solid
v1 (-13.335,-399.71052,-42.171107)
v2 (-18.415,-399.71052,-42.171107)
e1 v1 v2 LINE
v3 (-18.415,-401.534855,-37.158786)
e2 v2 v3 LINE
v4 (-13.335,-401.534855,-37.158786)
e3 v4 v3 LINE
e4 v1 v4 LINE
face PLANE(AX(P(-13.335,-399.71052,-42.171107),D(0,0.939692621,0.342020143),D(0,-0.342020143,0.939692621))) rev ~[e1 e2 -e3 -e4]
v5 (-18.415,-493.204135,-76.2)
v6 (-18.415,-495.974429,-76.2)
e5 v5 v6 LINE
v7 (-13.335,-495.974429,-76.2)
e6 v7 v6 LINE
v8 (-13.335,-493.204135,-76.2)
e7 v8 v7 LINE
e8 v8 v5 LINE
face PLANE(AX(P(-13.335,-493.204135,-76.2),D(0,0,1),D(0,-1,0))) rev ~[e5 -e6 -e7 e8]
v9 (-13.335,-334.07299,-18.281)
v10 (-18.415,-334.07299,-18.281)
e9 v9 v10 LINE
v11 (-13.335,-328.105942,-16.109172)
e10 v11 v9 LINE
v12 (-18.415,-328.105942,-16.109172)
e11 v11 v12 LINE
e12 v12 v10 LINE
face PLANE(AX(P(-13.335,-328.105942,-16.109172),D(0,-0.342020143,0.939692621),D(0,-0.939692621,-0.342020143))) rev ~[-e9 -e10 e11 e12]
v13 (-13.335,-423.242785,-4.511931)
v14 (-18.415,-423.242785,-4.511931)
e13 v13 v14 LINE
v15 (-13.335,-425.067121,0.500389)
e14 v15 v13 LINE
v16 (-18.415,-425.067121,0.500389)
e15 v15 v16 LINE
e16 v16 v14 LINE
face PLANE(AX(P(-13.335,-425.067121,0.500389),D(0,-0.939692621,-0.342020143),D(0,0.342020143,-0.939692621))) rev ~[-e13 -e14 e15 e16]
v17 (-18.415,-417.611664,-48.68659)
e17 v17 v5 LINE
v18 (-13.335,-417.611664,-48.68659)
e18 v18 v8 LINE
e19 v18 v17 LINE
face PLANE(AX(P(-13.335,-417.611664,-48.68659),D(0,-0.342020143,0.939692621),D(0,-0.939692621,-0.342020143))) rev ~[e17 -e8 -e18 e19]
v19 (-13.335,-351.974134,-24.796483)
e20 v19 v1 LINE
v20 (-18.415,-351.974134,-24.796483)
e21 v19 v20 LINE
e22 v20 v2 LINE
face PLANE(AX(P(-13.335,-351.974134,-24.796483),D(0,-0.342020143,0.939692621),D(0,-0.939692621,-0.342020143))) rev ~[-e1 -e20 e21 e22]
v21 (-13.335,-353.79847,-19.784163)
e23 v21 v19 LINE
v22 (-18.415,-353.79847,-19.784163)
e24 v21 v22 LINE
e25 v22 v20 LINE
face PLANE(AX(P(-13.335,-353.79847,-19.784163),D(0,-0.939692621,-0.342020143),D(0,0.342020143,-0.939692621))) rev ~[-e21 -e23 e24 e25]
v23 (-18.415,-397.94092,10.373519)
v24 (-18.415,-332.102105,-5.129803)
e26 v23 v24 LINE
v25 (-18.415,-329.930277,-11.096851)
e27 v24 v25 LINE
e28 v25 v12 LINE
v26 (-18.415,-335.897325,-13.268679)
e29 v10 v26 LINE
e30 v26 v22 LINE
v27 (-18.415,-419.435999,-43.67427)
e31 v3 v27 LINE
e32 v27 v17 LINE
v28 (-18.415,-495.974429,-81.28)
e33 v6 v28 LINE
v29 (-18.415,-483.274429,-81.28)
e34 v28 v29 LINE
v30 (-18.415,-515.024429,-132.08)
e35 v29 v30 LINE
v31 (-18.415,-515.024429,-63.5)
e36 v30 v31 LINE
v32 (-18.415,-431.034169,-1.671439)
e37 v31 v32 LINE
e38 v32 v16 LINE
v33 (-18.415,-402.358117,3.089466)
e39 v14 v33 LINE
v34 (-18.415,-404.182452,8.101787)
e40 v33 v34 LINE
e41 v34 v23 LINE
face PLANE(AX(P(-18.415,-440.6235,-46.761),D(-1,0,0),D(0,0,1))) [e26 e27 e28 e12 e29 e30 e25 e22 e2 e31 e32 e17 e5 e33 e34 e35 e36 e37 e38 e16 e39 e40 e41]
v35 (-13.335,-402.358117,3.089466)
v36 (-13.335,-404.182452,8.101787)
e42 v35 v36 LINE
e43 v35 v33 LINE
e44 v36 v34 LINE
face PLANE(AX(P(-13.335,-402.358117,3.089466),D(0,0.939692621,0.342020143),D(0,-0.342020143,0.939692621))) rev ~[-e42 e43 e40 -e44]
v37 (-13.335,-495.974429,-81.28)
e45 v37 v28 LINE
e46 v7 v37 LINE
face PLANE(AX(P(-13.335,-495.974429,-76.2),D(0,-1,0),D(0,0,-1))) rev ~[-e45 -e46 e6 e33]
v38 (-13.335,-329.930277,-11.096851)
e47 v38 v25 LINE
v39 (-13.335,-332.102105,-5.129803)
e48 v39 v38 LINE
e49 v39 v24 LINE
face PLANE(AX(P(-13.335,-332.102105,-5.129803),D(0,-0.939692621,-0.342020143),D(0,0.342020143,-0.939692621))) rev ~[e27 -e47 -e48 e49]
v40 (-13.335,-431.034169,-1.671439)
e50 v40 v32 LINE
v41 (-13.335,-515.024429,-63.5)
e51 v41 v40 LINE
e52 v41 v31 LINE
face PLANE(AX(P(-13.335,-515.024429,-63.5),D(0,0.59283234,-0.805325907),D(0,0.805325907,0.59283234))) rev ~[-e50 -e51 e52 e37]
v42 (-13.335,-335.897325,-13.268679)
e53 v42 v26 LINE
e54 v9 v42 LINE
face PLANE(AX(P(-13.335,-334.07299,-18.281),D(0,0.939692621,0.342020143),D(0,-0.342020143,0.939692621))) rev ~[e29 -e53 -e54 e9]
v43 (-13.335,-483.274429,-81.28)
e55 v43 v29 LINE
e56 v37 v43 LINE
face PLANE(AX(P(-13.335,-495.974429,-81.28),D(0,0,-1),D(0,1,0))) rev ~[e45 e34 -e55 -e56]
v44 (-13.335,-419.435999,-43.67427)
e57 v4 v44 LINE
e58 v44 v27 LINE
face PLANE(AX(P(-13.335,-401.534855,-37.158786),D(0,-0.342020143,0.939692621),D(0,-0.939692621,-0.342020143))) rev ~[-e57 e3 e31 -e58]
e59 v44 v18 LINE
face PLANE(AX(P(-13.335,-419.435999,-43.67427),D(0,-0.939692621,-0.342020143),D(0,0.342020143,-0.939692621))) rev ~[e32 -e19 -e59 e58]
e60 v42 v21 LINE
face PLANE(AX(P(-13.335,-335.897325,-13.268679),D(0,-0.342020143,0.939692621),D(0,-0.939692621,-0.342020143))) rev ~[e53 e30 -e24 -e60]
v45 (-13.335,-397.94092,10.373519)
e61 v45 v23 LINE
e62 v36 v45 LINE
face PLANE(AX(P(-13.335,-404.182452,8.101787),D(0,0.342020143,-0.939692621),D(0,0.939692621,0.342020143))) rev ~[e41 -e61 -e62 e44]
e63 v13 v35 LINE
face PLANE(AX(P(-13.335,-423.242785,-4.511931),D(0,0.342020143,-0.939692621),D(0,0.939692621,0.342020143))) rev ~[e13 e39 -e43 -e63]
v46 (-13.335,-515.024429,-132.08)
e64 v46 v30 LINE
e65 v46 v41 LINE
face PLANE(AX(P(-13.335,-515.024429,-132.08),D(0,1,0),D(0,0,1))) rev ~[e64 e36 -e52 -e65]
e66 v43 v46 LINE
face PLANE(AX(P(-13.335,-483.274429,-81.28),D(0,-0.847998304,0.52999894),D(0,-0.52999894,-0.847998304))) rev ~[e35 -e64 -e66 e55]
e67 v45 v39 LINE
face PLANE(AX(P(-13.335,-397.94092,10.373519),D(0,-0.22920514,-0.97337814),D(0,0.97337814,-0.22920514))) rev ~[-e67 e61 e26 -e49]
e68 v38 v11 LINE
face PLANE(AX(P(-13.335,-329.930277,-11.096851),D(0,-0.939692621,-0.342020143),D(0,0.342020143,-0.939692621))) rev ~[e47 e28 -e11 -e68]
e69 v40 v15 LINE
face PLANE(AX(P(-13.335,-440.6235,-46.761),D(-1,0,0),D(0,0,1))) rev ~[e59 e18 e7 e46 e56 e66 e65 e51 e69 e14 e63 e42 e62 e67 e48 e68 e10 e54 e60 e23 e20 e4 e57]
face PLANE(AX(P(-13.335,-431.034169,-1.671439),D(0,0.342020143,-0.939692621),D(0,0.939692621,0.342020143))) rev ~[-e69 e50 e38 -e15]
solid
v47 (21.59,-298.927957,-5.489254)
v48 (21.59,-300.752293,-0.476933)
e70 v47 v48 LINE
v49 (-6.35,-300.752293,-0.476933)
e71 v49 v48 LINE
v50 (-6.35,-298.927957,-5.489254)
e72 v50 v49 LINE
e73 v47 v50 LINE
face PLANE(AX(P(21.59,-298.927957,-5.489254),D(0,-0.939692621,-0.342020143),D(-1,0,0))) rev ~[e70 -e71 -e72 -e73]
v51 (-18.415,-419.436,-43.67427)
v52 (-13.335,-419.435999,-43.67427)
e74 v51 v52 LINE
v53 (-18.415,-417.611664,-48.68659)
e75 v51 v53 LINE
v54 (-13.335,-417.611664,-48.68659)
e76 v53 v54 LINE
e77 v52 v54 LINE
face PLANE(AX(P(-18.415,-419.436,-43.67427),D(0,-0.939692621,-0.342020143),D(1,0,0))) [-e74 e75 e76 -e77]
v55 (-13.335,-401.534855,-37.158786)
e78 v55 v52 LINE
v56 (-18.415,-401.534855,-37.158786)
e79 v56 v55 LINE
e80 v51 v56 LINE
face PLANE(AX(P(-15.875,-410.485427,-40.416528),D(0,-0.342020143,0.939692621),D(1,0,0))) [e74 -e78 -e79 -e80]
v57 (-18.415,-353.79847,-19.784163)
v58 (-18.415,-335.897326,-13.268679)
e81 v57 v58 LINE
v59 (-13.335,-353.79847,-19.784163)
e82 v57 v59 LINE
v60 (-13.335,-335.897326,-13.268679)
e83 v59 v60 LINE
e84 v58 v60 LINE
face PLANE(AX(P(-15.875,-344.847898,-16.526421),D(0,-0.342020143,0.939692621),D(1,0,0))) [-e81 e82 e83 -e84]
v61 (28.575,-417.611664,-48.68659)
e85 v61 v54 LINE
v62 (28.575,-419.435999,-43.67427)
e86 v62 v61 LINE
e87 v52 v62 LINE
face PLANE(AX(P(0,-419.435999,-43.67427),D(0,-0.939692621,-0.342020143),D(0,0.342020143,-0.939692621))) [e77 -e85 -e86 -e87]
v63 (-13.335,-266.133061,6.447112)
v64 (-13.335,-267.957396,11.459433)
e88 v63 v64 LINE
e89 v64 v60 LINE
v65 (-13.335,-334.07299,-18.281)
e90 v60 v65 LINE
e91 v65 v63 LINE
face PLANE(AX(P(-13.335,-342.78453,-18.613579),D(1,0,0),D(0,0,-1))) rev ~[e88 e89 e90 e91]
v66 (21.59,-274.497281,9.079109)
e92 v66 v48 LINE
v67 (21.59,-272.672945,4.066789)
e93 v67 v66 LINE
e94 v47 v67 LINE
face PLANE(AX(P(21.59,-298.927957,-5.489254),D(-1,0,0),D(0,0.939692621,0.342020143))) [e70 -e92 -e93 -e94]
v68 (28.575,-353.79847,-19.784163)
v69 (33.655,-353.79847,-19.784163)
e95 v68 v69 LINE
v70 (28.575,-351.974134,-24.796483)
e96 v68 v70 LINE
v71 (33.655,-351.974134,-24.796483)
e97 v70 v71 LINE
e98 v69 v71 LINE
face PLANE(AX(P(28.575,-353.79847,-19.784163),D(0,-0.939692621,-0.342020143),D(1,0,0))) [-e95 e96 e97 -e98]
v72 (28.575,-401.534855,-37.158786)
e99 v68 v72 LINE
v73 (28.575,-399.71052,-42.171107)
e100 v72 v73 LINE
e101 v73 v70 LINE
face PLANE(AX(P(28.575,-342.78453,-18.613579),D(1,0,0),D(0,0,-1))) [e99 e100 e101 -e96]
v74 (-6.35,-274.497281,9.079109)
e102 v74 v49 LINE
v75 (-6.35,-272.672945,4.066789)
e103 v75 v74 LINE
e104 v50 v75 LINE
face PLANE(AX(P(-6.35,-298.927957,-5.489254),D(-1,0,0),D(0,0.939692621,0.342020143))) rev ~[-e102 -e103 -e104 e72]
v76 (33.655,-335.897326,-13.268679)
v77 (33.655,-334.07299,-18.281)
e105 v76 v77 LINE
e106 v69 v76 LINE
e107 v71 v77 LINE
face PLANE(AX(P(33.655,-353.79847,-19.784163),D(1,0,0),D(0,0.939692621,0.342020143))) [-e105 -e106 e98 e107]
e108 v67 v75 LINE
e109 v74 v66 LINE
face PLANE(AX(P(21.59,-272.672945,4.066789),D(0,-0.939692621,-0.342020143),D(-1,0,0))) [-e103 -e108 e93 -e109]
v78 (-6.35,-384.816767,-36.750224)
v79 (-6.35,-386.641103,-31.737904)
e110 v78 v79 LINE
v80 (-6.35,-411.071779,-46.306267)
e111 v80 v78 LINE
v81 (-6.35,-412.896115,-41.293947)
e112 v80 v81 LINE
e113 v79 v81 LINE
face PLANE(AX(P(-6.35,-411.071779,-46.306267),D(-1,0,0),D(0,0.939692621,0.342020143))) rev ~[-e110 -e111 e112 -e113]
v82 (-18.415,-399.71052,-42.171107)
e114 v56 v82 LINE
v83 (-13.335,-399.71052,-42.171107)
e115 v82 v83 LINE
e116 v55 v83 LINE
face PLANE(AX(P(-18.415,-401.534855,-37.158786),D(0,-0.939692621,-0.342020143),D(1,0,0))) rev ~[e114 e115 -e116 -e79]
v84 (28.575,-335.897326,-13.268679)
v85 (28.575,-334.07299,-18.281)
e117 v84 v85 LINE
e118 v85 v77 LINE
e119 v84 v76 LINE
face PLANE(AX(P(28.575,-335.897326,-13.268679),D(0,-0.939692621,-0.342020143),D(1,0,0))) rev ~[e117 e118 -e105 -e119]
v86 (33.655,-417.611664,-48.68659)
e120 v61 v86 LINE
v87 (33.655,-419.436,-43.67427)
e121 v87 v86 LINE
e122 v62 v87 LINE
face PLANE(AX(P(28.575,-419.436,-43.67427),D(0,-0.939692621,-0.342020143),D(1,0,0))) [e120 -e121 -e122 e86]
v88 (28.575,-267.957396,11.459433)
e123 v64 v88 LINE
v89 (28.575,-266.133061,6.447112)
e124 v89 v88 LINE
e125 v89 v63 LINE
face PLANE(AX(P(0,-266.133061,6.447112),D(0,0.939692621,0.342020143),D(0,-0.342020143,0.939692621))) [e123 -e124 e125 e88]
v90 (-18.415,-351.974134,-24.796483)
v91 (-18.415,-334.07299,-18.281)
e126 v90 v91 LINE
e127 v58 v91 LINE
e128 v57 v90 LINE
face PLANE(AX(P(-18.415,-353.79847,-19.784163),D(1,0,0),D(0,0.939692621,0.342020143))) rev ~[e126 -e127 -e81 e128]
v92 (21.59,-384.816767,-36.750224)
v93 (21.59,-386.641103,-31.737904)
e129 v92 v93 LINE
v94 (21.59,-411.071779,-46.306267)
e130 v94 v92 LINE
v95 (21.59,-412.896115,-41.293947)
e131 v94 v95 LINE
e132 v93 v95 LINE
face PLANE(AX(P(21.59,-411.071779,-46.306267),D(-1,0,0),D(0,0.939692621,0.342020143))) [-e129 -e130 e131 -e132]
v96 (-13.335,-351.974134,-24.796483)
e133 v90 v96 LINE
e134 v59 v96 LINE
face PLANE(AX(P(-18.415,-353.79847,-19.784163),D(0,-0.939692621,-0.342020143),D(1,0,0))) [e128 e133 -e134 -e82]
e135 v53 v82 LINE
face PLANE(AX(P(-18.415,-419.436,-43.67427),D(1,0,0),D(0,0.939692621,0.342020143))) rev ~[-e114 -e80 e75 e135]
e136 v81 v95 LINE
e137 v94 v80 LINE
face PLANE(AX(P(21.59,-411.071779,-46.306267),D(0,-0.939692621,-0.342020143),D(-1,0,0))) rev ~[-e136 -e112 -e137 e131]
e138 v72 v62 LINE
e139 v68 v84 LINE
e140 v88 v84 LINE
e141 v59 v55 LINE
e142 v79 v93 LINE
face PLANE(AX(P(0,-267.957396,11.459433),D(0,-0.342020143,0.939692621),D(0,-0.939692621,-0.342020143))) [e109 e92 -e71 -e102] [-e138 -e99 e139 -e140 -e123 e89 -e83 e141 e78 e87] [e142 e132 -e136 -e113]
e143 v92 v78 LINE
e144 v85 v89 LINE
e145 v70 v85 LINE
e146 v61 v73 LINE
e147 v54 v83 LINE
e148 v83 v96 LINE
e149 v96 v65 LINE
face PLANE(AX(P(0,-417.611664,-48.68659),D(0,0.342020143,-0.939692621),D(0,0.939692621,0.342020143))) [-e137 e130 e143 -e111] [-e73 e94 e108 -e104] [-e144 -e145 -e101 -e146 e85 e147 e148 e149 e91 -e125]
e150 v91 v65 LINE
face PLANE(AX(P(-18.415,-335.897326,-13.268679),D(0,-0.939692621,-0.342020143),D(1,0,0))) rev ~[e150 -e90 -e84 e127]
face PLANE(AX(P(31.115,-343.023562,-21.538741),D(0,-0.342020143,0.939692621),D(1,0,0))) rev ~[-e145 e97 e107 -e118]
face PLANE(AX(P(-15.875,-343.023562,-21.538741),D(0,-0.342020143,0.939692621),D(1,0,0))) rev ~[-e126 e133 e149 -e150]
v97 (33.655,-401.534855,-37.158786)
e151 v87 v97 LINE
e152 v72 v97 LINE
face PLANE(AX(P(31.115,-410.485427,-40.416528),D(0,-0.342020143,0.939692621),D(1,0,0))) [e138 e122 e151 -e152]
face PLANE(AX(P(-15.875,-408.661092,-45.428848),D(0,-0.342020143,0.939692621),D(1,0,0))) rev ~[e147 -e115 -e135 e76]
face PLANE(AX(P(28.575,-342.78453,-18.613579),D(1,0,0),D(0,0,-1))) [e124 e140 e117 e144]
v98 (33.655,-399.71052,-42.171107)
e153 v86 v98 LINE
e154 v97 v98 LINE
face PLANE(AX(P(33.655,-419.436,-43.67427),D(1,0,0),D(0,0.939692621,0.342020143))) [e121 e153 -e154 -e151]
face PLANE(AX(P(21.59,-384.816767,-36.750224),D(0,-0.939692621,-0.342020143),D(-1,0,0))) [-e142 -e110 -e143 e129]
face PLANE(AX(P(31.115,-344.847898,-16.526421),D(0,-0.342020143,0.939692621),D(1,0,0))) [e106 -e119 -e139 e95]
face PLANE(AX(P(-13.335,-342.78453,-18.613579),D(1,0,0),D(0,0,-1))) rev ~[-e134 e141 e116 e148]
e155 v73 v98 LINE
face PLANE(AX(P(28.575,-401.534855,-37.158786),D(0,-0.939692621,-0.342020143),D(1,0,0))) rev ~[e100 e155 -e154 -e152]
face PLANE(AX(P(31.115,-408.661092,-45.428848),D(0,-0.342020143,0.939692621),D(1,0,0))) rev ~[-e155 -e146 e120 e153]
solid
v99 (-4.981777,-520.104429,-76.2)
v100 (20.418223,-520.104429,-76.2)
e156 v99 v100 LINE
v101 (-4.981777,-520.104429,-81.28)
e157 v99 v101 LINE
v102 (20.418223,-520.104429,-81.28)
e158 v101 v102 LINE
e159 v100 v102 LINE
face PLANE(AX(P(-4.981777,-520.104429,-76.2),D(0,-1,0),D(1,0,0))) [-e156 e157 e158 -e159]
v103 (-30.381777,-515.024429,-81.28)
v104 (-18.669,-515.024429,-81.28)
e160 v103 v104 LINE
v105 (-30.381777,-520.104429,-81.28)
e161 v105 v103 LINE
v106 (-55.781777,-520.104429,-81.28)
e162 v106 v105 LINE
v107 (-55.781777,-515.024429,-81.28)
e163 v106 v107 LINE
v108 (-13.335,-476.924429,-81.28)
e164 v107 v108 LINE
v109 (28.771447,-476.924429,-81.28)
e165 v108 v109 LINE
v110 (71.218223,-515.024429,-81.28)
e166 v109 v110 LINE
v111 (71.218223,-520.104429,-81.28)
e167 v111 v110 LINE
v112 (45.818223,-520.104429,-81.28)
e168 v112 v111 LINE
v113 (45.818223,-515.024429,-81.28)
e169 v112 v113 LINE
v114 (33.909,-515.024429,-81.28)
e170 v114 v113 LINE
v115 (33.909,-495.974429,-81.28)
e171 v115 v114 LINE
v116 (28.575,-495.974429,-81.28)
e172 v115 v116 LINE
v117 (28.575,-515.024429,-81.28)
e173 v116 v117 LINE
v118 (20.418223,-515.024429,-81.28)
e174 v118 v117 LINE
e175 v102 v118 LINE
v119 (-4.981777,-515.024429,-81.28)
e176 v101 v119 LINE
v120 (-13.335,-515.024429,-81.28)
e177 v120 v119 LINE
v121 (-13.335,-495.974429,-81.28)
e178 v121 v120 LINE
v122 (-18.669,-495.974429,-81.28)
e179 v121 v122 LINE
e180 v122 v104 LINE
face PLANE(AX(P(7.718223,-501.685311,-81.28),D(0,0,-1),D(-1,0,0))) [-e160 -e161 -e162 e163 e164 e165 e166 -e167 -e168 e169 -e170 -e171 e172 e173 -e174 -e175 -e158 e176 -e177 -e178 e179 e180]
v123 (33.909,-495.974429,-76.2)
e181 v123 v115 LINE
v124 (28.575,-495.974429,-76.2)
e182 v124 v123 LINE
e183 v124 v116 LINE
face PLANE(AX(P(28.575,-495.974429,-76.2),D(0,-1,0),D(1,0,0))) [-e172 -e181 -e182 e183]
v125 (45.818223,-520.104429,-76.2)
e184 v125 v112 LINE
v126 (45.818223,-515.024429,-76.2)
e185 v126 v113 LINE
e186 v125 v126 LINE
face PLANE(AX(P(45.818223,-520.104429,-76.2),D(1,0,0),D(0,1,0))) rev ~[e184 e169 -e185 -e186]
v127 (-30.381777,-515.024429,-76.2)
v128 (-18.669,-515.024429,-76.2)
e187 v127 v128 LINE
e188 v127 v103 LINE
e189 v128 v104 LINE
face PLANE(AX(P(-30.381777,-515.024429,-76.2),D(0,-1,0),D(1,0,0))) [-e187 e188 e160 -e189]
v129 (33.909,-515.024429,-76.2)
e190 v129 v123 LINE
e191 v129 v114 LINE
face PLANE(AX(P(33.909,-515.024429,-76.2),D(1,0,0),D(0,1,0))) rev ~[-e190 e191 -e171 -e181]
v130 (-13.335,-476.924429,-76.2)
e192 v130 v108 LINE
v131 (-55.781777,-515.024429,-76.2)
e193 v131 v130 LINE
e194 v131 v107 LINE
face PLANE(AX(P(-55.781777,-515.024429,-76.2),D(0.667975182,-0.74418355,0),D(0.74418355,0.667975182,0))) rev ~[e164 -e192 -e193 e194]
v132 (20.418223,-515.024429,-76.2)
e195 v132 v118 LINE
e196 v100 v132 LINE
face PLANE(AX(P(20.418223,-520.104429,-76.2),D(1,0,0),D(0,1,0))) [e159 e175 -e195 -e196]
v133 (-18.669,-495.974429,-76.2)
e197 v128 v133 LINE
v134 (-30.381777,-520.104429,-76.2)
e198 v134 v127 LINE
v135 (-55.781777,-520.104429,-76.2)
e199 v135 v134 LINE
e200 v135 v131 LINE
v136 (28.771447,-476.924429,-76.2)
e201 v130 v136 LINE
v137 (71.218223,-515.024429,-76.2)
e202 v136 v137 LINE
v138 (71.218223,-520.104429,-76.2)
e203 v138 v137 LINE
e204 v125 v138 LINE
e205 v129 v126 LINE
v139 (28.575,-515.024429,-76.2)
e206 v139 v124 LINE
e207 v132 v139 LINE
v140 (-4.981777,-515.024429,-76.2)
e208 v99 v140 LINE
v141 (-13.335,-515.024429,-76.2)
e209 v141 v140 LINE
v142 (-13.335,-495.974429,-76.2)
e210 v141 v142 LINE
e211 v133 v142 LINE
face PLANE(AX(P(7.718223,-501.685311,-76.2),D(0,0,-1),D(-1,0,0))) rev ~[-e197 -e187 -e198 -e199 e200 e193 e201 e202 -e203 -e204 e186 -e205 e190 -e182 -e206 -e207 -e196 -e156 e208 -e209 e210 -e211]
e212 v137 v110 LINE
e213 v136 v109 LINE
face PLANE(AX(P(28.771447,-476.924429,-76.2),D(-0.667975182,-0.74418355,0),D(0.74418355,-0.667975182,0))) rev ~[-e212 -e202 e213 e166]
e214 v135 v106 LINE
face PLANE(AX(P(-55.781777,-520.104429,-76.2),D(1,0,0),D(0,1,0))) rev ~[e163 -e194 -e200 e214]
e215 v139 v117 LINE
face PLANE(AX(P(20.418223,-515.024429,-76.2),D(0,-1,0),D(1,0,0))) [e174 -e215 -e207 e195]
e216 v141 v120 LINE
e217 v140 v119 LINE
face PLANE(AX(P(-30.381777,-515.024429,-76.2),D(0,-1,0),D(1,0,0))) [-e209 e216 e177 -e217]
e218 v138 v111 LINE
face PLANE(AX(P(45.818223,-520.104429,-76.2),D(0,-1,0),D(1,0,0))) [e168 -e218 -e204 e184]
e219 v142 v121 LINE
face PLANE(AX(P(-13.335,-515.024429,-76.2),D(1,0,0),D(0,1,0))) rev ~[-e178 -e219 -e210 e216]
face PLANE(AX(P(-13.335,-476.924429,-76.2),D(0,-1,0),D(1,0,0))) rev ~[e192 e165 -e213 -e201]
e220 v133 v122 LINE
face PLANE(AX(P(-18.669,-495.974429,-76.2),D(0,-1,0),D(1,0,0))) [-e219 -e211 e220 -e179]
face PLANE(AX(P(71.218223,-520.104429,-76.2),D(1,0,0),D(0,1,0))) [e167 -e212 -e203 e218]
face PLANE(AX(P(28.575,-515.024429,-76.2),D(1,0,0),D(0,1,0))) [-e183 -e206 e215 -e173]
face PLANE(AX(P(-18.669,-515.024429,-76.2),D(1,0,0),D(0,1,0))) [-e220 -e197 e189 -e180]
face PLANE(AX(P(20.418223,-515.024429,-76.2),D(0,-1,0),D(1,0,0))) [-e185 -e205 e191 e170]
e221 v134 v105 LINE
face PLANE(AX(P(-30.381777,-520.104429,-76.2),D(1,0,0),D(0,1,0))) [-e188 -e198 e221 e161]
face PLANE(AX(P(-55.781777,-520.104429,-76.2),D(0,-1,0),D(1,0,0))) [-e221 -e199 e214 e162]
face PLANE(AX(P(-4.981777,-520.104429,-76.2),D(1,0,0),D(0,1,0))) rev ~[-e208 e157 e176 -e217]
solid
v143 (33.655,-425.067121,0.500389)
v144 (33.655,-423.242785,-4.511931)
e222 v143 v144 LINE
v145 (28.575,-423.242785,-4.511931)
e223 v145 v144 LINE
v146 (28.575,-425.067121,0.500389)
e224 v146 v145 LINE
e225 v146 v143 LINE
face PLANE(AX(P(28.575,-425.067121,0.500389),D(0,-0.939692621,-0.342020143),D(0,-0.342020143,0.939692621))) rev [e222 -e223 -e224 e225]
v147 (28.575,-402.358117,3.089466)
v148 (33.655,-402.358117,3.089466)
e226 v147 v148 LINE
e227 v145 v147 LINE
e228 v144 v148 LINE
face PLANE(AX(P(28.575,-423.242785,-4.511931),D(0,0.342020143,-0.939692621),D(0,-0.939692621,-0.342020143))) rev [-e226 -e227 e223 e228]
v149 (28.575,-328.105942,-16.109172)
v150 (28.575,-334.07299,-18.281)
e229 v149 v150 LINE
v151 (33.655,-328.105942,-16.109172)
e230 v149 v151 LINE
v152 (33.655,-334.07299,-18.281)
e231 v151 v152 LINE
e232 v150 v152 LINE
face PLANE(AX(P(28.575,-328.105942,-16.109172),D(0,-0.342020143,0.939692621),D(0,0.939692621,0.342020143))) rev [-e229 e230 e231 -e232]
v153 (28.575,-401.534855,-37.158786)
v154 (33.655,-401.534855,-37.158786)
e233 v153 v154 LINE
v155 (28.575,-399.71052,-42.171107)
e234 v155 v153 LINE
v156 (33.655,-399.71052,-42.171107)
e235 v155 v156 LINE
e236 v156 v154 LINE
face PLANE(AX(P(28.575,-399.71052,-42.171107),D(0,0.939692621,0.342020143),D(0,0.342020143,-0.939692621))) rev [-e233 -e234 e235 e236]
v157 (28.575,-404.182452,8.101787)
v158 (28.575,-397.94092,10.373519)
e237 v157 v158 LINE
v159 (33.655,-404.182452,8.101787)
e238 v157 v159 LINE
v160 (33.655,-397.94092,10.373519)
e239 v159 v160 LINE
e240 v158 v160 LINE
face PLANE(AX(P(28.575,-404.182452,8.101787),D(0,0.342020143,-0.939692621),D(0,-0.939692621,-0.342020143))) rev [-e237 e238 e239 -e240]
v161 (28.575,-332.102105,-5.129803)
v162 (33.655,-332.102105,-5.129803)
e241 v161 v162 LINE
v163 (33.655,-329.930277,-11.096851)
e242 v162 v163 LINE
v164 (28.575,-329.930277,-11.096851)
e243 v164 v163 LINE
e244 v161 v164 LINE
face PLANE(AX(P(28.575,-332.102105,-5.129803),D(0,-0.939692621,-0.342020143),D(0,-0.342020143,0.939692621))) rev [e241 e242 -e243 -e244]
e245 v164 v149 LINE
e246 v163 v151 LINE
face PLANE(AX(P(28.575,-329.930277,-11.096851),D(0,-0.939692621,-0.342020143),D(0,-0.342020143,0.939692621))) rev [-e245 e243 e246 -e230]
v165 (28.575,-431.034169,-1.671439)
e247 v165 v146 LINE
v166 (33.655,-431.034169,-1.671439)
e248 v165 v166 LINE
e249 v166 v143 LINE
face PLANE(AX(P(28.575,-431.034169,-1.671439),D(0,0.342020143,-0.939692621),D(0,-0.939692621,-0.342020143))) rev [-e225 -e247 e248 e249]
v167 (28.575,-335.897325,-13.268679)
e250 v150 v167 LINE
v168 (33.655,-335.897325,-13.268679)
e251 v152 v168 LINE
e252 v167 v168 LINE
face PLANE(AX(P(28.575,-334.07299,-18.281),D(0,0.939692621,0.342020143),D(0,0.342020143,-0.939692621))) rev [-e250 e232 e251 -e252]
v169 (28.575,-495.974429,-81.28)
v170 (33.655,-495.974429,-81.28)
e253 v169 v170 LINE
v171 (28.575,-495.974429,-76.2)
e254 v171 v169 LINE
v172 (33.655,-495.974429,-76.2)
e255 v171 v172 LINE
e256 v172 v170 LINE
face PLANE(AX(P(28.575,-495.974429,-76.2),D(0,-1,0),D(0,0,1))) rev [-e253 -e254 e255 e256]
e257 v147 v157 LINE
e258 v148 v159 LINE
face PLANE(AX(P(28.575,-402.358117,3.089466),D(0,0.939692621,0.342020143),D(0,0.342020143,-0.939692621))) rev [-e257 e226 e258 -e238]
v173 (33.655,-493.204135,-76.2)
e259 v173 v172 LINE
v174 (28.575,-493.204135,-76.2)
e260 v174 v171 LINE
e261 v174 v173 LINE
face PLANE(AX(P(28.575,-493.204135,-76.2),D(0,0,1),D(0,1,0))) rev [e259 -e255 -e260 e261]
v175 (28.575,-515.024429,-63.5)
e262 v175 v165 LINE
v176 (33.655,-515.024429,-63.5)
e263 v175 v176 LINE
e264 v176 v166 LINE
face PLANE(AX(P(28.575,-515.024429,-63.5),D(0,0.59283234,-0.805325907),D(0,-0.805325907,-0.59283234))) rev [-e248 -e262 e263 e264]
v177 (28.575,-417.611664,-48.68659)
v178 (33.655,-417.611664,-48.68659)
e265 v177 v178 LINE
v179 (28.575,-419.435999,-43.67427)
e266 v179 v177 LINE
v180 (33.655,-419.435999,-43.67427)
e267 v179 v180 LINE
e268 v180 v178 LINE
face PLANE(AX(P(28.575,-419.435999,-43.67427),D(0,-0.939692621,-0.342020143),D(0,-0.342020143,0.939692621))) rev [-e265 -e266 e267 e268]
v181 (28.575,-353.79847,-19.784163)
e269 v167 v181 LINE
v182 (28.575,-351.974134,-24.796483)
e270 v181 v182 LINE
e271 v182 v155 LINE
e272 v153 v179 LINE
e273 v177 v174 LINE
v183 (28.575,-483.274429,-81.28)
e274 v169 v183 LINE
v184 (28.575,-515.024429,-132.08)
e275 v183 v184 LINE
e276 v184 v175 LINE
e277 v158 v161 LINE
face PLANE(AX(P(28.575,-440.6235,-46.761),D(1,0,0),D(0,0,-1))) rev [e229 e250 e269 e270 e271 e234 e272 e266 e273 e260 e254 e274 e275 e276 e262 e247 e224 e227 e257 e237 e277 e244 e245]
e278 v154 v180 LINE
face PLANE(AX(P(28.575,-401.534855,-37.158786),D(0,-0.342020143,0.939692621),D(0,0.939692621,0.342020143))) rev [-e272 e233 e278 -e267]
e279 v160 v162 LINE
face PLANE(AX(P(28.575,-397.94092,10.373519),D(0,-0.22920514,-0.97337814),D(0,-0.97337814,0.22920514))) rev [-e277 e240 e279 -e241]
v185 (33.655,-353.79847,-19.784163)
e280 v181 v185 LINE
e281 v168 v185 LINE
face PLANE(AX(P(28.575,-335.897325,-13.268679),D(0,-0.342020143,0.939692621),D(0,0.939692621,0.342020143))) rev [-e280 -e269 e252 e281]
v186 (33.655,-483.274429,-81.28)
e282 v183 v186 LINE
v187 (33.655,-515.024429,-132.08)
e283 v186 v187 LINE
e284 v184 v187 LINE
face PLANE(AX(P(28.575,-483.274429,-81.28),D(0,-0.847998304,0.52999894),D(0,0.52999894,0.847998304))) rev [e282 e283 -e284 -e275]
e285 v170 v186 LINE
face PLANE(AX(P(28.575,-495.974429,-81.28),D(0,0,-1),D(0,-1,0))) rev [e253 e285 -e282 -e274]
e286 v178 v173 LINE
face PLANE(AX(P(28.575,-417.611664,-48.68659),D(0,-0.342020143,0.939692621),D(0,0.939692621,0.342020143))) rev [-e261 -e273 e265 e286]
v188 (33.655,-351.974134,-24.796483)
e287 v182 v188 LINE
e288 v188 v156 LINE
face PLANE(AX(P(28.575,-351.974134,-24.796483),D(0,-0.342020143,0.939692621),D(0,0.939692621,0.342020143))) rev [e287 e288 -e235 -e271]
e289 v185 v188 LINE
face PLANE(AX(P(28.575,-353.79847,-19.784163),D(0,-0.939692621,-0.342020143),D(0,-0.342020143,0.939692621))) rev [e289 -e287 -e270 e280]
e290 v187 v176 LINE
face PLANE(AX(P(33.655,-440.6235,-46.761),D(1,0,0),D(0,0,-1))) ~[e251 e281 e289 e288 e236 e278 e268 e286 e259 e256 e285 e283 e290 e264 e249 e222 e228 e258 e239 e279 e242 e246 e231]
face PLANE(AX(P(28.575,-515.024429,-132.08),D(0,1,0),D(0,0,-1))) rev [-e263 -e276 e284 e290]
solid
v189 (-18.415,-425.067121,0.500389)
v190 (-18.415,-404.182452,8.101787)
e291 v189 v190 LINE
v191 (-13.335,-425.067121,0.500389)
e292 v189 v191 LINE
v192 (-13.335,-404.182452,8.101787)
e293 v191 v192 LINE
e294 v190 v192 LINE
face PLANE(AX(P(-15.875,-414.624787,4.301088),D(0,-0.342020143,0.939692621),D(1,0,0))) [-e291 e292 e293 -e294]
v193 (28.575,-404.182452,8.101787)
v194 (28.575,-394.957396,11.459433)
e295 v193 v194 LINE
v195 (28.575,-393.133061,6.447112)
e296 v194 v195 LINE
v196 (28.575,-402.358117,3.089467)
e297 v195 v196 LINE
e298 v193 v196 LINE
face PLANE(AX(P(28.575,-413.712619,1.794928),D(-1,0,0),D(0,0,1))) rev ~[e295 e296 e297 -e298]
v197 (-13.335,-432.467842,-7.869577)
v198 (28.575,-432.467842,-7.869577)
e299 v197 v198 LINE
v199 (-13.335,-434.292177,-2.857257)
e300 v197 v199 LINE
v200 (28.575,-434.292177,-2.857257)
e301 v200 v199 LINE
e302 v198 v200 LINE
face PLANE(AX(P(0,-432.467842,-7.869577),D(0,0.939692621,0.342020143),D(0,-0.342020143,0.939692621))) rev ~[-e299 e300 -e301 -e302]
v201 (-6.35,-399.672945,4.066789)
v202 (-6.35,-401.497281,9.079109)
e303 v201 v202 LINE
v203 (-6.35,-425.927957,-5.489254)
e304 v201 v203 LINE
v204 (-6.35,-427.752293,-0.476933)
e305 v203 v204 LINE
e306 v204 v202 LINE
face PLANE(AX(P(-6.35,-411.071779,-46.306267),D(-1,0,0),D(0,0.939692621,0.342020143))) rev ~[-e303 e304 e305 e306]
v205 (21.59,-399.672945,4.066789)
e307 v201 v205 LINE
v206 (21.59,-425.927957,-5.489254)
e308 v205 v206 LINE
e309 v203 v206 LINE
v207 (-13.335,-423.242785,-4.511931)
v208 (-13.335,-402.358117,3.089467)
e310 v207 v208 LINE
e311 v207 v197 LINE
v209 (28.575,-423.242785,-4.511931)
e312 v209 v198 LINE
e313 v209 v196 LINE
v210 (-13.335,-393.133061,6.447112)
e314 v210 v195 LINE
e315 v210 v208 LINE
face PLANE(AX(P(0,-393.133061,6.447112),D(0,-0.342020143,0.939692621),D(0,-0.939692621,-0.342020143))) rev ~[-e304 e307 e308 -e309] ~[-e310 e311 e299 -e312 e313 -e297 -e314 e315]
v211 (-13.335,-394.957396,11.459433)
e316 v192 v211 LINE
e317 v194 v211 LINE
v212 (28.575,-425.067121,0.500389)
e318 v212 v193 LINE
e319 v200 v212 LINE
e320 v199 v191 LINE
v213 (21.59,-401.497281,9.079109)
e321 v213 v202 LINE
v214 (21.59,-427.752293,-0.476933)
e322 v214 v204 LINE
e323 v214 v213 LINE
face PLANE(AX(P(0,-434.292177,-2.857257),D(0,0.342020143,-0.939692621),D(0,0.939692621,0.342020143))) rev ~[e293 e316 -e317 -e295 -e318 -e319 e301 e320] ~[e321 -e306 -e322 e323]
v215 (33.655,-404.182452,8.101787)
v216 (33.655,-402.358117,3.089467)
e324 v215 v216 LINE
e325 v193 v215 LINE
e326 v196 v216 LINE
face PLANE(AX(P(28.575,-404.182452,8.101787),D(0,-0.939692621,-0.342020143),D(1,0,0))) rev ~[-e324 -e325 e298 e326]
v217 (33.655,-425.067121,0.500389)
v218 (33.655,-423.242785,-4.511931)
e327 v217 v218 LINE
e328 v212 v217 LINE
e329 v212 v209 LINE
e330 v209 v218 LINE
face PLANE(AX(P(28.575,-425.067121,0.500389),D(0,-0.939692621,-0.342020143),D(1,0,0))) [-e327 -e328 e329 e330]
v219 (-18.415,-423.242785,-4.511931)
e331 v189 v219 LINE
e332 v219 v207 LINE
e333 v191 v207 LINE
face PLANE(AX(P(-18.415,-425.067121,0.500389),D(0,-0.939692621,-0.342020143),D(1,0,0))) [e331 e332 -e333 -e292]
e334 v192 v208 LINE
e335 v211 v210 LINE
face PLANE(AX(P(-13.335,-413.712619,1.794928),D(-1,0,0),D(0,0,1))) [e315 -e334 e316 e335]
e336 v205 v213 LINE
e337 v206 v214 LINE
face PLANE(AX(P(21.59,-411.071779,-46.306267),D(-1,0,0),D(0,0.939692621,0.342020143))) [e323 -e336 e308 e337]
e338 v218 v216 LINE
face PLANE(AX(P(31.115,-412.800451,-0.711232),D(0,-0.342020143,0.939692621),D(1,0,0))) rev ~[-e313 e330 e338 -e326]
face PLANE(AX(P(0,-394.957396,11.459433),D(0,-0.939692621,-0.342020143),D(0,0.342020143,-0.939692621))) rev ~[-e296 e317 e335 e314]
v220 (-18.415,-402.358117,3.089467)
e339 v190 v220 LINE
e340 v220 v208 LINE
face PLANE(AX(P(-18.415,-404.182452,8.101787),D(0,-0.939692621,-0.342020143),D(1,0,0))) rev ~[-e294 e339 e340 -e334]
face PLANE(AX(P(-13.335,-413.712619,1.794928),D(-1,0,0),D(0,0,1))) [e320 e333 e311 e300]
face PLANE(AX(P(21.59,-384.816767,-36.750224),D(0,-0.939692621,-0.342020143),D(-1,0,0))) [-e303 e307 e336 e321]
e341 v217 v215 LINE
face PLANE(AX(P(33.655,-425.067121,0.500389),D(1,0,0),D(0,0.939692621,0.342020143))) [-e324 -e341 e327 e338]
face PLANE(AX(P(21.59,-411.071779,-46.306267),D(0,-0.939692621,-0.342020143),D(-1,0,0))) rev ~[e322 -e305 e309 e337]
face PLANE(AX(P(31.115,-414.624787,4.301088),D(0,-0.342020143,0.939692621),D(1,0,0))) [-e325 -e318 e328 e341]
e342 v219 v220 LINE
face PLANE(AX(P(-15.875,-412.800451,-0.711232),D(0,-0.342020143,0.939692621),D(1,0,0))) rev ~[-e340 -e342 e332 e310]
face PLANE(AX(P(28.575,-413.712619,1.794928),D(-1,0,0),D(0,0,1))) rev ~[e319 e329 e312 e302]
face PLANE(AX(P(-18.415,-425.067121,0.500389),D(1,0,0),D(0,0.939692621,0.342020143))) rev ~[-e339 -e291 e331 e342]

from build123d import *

# Parameters (mm, degrees)
BOSS_EXTRUDE1_DEPTH        = 28.575
BOSS_EXTRUDE1_DEPTH_BACK   = 13.335
BOSS_EXTRUDE1_2_DEPTH      = 28.575
BOSS_EXTRUDE1_2_DEPTH_BACK = 13.335
SKETCH4_W                  = 27.94
SKETCH4_H                  = 27.94
CUT_EXTRUDE1_DEPTH         = 63.223845758
SKETCH6_W                  = 25.4
SKETCH6_H                  = 5.08
BOSS_EXTRUDE2_DEPTH        = 5.08
SKETCH7_W                  = 5.334
SKETCH7_H                  = 19.05
CUT_EXTRUDE2_DEPTH         = 6.08
SKETCH8_W                  = 5.08
SKETCH8_H                  = 22.225
BOSS_EXTRUDE3_DEPTH        = 5.334
SKETCH10_W                 = 5.08
SKETCH10_H                 = 19.05
BOSS_EXTRUDE4_DEPTH        = 5.334
BOSS_EXTRUDE5_DEPTH        = 5.08


with BuildPart() as part:
    # Sketch3 → Boss-Extrude1 (new body, two sides)
    with BuildSketch(Plane(origin=(0, 0, 0), x_dir=(0, 0, -1), z_dir=(1, 0, 0))) as boss_extrude1_sk:
        Polygon((-6.44711232, -266.133060512), (-11.459432759, -267.957395957), (43.67427004, -419.435999447), (48.686590479, -417.611664002), align=None)
    extrude(amount=BOSS_EXTRUDE1_DEPTH)
    extrude(boss_extrude1_sk.sketch, amount=-BOSS_EXTRUDE1_DEPTH_BACK)


with BuildPart() as body_2:
    # Sketch3 → Boss-Extrude1 2 (new body, two sides)
    with BuildSketch(Plane(origin=(0, 0, 0), x_dir=(0, 0, -1), z_dir=(1, 0, 0))) as boss_extrude1_2_sk:
        Polygon((7.869577264, -432.467841864), (2.857256824, -434.292177309), (-11.459432759, -394.957395957), (-6.44711232, -393.133060512), align=None)
    extrude(amount=BOSS_EXTRUDE1_2_DEPTH)
    extrude(boss_extrude1_2_sk.sketch, amount=-BOSS_EXTRUDE1_2_DEPTH_BACK)


with BuildPart() as cut_extrude1_tool:
    # Sketch4 → Cut-Extrude1 (new body, through all)
    with BuildSketch(Plane(origin=(0, -33.203716147, 91.226460356), x_dir=(-1, 0, 0), z_dir=(0, 0.342020143, -0.939692621))):
        with Locations((-7.62, -268.807830831)):
            Rectangle(SKETCH4_W, SKETCH4_H)
        with Locations((-7.62, -388.148793671)):
            Rectangle(SKETCH4_W, SKETCH4_H)
    extrude(amount=-CUT_EXTRUDE1_DEPTH)


with BuildPart() as part_1:
    add(part.part)

    # Cut-Extrude1: cut by cut_extrude1_tool
    add(cut_extrude1_tool.part, mode=Mode.SUBTRACT)

    # Sketch10 → Boss-Extrude4 (add)
    with BuildSketch(Plane(origin=(0, -35.028051592, 96.238780795), x_dir=(1, 0, 0), z_dir=(0, -0.342020143, 0.939692621))):
        with Locations((-15.875, -399.553393671)):
            Rectangle(SKETCH10_W, SKETCH10_H)
        with Locations((31.115, -399.553393671)):
            Rectangle(SKETCH10_W, SKETCH10_H)
        with Locations((-15.875, -329.703393671)):
            Rectangle(SKETCH10_W, SKETCH10_H)
        with Locations((31.115, -329.703393671)):
            Rectangle(SKETCH10_W, SKETCH10_H)
    extrude(amount=-BOSS_EXTRUDE4_DEPTH)


with BuildPart() as body_2_1:
    add(body_2.part)

    # Cut-Extrude1: cut by cut_extrude1_tool
    add(cut_extrude1_tool.part, mode=Mode.SUBTRACT)

    # Sketch8 → Boss-Extrude3 (add)
    with BuildSketch(Plane(origin=(0, -49.884229453, 137.05579401), x_dir=(1, 0, 0), z_dir=(0, -0.342020143, 0.939692621))):
        with Locations((-15.875, -388.148793671)):
            Rectangle(SKETCH8_W, SKETCH8_H)
        with Locations((31.115, -388.148793671)):
            Rectangle(SKETCH8_W, SKETCH8_H)
    extrude(amount=-BOSS_EXTRUDE3_DEPTH)


with BuildPart() as body_3:
    # Sketch6 → Boss-Extrude2 (new body)
    with BuildSketch(Plane.XY.offset(-76.2)):
        Polygon((28.771446995, -476.924428702), (71.218223498, -515.024428702), (45.818223498, -515.024428702), (20.418223498, -515.024428702), (-4.981776502, -515.024428702), (-30.381776502, -515.024428702), (-55.781776502, -515.024428702), (-13.335, -476.924428702), align=None)
        with Locations((58.518223498, -517.564428702)):
            Rectangle(SKETCH6_W, SKETCH6_H)
        with Locations((7.718223498, -517.564428702)):
            Rectangle(SKETCH6_W, SKETCH6_H)
        with Locations((-43.081776502, -517.564428702)):
            Rectangle(SKETCH6_W, SKETCH6_H)
    extrude(amount=-BOSS_EXTRUDE2_DEPTH)

    # Sketch7 → Cut-Extrude2 (cut, through all)
    with BuildSketch(Plane.XY.offset(-76.2)):
        with Locations((31.242, -505.499428702)):
            Rectangle(SKETCH7_W, SKETCH7_H)
        with Locations((-16.002, -505.499428702)):
            Rectangle(SKETCH7_W, SKETCH7_H)
    extrude(amount=-CUT_EXTRUDE2_DEPTH, mode=Mode.SUBTRACT)


with BuildPart() as body_4:
    # Sketch11 → Boss-Extrude5 (new body)
    with BuildSketch(Plane.ZY.offset(13.335)):
        Polygon((-5.129803246, -332.102105227), (-11.096851388, -329.930277317), (-13.268679298, -335.897325459), (-19.784163028, -353.798469885), (-24.796483468, -351.97413444), (-42.171106748, -399.710519576), (-37.158786309, -401.534855021), (-43.67427004, -419.435999447), (-48.686590479, -417.611664002), (-76.2, -493.204135394), (-76.2, -495.974428702), (-81.28, -495.974428702), (-81.28, -483.274428702), (-132.08, -515.024428702), (-63.5, -515.024428702), (-1.671438786, -431.034169023), (0.500389125, -425.067120881), (-4.511931315, -423.242785437), (3.089466371, -402.35811694), (8.10178681, -404.182452384), (10.373518804, -397.940920028), align=None)
        Polygon((-11.096851388, -329.930277317), (-16.109171827, -328.105941872), (-18.280999737, -334.072990014), (-13.268679298, -335.897325459), align=None)
    extrude(amount=BOSS_EXTRUDE5_DEPTH)


with BuildPart() as body_5:
    # Mirror1: mirrored copy
    add(body_4.part.mirror(Plane.ZY.offset(-7.62)))


solid = Compound([part_1.part, body_2_1.part, body_3.part, body_4.part, body_5.part])
